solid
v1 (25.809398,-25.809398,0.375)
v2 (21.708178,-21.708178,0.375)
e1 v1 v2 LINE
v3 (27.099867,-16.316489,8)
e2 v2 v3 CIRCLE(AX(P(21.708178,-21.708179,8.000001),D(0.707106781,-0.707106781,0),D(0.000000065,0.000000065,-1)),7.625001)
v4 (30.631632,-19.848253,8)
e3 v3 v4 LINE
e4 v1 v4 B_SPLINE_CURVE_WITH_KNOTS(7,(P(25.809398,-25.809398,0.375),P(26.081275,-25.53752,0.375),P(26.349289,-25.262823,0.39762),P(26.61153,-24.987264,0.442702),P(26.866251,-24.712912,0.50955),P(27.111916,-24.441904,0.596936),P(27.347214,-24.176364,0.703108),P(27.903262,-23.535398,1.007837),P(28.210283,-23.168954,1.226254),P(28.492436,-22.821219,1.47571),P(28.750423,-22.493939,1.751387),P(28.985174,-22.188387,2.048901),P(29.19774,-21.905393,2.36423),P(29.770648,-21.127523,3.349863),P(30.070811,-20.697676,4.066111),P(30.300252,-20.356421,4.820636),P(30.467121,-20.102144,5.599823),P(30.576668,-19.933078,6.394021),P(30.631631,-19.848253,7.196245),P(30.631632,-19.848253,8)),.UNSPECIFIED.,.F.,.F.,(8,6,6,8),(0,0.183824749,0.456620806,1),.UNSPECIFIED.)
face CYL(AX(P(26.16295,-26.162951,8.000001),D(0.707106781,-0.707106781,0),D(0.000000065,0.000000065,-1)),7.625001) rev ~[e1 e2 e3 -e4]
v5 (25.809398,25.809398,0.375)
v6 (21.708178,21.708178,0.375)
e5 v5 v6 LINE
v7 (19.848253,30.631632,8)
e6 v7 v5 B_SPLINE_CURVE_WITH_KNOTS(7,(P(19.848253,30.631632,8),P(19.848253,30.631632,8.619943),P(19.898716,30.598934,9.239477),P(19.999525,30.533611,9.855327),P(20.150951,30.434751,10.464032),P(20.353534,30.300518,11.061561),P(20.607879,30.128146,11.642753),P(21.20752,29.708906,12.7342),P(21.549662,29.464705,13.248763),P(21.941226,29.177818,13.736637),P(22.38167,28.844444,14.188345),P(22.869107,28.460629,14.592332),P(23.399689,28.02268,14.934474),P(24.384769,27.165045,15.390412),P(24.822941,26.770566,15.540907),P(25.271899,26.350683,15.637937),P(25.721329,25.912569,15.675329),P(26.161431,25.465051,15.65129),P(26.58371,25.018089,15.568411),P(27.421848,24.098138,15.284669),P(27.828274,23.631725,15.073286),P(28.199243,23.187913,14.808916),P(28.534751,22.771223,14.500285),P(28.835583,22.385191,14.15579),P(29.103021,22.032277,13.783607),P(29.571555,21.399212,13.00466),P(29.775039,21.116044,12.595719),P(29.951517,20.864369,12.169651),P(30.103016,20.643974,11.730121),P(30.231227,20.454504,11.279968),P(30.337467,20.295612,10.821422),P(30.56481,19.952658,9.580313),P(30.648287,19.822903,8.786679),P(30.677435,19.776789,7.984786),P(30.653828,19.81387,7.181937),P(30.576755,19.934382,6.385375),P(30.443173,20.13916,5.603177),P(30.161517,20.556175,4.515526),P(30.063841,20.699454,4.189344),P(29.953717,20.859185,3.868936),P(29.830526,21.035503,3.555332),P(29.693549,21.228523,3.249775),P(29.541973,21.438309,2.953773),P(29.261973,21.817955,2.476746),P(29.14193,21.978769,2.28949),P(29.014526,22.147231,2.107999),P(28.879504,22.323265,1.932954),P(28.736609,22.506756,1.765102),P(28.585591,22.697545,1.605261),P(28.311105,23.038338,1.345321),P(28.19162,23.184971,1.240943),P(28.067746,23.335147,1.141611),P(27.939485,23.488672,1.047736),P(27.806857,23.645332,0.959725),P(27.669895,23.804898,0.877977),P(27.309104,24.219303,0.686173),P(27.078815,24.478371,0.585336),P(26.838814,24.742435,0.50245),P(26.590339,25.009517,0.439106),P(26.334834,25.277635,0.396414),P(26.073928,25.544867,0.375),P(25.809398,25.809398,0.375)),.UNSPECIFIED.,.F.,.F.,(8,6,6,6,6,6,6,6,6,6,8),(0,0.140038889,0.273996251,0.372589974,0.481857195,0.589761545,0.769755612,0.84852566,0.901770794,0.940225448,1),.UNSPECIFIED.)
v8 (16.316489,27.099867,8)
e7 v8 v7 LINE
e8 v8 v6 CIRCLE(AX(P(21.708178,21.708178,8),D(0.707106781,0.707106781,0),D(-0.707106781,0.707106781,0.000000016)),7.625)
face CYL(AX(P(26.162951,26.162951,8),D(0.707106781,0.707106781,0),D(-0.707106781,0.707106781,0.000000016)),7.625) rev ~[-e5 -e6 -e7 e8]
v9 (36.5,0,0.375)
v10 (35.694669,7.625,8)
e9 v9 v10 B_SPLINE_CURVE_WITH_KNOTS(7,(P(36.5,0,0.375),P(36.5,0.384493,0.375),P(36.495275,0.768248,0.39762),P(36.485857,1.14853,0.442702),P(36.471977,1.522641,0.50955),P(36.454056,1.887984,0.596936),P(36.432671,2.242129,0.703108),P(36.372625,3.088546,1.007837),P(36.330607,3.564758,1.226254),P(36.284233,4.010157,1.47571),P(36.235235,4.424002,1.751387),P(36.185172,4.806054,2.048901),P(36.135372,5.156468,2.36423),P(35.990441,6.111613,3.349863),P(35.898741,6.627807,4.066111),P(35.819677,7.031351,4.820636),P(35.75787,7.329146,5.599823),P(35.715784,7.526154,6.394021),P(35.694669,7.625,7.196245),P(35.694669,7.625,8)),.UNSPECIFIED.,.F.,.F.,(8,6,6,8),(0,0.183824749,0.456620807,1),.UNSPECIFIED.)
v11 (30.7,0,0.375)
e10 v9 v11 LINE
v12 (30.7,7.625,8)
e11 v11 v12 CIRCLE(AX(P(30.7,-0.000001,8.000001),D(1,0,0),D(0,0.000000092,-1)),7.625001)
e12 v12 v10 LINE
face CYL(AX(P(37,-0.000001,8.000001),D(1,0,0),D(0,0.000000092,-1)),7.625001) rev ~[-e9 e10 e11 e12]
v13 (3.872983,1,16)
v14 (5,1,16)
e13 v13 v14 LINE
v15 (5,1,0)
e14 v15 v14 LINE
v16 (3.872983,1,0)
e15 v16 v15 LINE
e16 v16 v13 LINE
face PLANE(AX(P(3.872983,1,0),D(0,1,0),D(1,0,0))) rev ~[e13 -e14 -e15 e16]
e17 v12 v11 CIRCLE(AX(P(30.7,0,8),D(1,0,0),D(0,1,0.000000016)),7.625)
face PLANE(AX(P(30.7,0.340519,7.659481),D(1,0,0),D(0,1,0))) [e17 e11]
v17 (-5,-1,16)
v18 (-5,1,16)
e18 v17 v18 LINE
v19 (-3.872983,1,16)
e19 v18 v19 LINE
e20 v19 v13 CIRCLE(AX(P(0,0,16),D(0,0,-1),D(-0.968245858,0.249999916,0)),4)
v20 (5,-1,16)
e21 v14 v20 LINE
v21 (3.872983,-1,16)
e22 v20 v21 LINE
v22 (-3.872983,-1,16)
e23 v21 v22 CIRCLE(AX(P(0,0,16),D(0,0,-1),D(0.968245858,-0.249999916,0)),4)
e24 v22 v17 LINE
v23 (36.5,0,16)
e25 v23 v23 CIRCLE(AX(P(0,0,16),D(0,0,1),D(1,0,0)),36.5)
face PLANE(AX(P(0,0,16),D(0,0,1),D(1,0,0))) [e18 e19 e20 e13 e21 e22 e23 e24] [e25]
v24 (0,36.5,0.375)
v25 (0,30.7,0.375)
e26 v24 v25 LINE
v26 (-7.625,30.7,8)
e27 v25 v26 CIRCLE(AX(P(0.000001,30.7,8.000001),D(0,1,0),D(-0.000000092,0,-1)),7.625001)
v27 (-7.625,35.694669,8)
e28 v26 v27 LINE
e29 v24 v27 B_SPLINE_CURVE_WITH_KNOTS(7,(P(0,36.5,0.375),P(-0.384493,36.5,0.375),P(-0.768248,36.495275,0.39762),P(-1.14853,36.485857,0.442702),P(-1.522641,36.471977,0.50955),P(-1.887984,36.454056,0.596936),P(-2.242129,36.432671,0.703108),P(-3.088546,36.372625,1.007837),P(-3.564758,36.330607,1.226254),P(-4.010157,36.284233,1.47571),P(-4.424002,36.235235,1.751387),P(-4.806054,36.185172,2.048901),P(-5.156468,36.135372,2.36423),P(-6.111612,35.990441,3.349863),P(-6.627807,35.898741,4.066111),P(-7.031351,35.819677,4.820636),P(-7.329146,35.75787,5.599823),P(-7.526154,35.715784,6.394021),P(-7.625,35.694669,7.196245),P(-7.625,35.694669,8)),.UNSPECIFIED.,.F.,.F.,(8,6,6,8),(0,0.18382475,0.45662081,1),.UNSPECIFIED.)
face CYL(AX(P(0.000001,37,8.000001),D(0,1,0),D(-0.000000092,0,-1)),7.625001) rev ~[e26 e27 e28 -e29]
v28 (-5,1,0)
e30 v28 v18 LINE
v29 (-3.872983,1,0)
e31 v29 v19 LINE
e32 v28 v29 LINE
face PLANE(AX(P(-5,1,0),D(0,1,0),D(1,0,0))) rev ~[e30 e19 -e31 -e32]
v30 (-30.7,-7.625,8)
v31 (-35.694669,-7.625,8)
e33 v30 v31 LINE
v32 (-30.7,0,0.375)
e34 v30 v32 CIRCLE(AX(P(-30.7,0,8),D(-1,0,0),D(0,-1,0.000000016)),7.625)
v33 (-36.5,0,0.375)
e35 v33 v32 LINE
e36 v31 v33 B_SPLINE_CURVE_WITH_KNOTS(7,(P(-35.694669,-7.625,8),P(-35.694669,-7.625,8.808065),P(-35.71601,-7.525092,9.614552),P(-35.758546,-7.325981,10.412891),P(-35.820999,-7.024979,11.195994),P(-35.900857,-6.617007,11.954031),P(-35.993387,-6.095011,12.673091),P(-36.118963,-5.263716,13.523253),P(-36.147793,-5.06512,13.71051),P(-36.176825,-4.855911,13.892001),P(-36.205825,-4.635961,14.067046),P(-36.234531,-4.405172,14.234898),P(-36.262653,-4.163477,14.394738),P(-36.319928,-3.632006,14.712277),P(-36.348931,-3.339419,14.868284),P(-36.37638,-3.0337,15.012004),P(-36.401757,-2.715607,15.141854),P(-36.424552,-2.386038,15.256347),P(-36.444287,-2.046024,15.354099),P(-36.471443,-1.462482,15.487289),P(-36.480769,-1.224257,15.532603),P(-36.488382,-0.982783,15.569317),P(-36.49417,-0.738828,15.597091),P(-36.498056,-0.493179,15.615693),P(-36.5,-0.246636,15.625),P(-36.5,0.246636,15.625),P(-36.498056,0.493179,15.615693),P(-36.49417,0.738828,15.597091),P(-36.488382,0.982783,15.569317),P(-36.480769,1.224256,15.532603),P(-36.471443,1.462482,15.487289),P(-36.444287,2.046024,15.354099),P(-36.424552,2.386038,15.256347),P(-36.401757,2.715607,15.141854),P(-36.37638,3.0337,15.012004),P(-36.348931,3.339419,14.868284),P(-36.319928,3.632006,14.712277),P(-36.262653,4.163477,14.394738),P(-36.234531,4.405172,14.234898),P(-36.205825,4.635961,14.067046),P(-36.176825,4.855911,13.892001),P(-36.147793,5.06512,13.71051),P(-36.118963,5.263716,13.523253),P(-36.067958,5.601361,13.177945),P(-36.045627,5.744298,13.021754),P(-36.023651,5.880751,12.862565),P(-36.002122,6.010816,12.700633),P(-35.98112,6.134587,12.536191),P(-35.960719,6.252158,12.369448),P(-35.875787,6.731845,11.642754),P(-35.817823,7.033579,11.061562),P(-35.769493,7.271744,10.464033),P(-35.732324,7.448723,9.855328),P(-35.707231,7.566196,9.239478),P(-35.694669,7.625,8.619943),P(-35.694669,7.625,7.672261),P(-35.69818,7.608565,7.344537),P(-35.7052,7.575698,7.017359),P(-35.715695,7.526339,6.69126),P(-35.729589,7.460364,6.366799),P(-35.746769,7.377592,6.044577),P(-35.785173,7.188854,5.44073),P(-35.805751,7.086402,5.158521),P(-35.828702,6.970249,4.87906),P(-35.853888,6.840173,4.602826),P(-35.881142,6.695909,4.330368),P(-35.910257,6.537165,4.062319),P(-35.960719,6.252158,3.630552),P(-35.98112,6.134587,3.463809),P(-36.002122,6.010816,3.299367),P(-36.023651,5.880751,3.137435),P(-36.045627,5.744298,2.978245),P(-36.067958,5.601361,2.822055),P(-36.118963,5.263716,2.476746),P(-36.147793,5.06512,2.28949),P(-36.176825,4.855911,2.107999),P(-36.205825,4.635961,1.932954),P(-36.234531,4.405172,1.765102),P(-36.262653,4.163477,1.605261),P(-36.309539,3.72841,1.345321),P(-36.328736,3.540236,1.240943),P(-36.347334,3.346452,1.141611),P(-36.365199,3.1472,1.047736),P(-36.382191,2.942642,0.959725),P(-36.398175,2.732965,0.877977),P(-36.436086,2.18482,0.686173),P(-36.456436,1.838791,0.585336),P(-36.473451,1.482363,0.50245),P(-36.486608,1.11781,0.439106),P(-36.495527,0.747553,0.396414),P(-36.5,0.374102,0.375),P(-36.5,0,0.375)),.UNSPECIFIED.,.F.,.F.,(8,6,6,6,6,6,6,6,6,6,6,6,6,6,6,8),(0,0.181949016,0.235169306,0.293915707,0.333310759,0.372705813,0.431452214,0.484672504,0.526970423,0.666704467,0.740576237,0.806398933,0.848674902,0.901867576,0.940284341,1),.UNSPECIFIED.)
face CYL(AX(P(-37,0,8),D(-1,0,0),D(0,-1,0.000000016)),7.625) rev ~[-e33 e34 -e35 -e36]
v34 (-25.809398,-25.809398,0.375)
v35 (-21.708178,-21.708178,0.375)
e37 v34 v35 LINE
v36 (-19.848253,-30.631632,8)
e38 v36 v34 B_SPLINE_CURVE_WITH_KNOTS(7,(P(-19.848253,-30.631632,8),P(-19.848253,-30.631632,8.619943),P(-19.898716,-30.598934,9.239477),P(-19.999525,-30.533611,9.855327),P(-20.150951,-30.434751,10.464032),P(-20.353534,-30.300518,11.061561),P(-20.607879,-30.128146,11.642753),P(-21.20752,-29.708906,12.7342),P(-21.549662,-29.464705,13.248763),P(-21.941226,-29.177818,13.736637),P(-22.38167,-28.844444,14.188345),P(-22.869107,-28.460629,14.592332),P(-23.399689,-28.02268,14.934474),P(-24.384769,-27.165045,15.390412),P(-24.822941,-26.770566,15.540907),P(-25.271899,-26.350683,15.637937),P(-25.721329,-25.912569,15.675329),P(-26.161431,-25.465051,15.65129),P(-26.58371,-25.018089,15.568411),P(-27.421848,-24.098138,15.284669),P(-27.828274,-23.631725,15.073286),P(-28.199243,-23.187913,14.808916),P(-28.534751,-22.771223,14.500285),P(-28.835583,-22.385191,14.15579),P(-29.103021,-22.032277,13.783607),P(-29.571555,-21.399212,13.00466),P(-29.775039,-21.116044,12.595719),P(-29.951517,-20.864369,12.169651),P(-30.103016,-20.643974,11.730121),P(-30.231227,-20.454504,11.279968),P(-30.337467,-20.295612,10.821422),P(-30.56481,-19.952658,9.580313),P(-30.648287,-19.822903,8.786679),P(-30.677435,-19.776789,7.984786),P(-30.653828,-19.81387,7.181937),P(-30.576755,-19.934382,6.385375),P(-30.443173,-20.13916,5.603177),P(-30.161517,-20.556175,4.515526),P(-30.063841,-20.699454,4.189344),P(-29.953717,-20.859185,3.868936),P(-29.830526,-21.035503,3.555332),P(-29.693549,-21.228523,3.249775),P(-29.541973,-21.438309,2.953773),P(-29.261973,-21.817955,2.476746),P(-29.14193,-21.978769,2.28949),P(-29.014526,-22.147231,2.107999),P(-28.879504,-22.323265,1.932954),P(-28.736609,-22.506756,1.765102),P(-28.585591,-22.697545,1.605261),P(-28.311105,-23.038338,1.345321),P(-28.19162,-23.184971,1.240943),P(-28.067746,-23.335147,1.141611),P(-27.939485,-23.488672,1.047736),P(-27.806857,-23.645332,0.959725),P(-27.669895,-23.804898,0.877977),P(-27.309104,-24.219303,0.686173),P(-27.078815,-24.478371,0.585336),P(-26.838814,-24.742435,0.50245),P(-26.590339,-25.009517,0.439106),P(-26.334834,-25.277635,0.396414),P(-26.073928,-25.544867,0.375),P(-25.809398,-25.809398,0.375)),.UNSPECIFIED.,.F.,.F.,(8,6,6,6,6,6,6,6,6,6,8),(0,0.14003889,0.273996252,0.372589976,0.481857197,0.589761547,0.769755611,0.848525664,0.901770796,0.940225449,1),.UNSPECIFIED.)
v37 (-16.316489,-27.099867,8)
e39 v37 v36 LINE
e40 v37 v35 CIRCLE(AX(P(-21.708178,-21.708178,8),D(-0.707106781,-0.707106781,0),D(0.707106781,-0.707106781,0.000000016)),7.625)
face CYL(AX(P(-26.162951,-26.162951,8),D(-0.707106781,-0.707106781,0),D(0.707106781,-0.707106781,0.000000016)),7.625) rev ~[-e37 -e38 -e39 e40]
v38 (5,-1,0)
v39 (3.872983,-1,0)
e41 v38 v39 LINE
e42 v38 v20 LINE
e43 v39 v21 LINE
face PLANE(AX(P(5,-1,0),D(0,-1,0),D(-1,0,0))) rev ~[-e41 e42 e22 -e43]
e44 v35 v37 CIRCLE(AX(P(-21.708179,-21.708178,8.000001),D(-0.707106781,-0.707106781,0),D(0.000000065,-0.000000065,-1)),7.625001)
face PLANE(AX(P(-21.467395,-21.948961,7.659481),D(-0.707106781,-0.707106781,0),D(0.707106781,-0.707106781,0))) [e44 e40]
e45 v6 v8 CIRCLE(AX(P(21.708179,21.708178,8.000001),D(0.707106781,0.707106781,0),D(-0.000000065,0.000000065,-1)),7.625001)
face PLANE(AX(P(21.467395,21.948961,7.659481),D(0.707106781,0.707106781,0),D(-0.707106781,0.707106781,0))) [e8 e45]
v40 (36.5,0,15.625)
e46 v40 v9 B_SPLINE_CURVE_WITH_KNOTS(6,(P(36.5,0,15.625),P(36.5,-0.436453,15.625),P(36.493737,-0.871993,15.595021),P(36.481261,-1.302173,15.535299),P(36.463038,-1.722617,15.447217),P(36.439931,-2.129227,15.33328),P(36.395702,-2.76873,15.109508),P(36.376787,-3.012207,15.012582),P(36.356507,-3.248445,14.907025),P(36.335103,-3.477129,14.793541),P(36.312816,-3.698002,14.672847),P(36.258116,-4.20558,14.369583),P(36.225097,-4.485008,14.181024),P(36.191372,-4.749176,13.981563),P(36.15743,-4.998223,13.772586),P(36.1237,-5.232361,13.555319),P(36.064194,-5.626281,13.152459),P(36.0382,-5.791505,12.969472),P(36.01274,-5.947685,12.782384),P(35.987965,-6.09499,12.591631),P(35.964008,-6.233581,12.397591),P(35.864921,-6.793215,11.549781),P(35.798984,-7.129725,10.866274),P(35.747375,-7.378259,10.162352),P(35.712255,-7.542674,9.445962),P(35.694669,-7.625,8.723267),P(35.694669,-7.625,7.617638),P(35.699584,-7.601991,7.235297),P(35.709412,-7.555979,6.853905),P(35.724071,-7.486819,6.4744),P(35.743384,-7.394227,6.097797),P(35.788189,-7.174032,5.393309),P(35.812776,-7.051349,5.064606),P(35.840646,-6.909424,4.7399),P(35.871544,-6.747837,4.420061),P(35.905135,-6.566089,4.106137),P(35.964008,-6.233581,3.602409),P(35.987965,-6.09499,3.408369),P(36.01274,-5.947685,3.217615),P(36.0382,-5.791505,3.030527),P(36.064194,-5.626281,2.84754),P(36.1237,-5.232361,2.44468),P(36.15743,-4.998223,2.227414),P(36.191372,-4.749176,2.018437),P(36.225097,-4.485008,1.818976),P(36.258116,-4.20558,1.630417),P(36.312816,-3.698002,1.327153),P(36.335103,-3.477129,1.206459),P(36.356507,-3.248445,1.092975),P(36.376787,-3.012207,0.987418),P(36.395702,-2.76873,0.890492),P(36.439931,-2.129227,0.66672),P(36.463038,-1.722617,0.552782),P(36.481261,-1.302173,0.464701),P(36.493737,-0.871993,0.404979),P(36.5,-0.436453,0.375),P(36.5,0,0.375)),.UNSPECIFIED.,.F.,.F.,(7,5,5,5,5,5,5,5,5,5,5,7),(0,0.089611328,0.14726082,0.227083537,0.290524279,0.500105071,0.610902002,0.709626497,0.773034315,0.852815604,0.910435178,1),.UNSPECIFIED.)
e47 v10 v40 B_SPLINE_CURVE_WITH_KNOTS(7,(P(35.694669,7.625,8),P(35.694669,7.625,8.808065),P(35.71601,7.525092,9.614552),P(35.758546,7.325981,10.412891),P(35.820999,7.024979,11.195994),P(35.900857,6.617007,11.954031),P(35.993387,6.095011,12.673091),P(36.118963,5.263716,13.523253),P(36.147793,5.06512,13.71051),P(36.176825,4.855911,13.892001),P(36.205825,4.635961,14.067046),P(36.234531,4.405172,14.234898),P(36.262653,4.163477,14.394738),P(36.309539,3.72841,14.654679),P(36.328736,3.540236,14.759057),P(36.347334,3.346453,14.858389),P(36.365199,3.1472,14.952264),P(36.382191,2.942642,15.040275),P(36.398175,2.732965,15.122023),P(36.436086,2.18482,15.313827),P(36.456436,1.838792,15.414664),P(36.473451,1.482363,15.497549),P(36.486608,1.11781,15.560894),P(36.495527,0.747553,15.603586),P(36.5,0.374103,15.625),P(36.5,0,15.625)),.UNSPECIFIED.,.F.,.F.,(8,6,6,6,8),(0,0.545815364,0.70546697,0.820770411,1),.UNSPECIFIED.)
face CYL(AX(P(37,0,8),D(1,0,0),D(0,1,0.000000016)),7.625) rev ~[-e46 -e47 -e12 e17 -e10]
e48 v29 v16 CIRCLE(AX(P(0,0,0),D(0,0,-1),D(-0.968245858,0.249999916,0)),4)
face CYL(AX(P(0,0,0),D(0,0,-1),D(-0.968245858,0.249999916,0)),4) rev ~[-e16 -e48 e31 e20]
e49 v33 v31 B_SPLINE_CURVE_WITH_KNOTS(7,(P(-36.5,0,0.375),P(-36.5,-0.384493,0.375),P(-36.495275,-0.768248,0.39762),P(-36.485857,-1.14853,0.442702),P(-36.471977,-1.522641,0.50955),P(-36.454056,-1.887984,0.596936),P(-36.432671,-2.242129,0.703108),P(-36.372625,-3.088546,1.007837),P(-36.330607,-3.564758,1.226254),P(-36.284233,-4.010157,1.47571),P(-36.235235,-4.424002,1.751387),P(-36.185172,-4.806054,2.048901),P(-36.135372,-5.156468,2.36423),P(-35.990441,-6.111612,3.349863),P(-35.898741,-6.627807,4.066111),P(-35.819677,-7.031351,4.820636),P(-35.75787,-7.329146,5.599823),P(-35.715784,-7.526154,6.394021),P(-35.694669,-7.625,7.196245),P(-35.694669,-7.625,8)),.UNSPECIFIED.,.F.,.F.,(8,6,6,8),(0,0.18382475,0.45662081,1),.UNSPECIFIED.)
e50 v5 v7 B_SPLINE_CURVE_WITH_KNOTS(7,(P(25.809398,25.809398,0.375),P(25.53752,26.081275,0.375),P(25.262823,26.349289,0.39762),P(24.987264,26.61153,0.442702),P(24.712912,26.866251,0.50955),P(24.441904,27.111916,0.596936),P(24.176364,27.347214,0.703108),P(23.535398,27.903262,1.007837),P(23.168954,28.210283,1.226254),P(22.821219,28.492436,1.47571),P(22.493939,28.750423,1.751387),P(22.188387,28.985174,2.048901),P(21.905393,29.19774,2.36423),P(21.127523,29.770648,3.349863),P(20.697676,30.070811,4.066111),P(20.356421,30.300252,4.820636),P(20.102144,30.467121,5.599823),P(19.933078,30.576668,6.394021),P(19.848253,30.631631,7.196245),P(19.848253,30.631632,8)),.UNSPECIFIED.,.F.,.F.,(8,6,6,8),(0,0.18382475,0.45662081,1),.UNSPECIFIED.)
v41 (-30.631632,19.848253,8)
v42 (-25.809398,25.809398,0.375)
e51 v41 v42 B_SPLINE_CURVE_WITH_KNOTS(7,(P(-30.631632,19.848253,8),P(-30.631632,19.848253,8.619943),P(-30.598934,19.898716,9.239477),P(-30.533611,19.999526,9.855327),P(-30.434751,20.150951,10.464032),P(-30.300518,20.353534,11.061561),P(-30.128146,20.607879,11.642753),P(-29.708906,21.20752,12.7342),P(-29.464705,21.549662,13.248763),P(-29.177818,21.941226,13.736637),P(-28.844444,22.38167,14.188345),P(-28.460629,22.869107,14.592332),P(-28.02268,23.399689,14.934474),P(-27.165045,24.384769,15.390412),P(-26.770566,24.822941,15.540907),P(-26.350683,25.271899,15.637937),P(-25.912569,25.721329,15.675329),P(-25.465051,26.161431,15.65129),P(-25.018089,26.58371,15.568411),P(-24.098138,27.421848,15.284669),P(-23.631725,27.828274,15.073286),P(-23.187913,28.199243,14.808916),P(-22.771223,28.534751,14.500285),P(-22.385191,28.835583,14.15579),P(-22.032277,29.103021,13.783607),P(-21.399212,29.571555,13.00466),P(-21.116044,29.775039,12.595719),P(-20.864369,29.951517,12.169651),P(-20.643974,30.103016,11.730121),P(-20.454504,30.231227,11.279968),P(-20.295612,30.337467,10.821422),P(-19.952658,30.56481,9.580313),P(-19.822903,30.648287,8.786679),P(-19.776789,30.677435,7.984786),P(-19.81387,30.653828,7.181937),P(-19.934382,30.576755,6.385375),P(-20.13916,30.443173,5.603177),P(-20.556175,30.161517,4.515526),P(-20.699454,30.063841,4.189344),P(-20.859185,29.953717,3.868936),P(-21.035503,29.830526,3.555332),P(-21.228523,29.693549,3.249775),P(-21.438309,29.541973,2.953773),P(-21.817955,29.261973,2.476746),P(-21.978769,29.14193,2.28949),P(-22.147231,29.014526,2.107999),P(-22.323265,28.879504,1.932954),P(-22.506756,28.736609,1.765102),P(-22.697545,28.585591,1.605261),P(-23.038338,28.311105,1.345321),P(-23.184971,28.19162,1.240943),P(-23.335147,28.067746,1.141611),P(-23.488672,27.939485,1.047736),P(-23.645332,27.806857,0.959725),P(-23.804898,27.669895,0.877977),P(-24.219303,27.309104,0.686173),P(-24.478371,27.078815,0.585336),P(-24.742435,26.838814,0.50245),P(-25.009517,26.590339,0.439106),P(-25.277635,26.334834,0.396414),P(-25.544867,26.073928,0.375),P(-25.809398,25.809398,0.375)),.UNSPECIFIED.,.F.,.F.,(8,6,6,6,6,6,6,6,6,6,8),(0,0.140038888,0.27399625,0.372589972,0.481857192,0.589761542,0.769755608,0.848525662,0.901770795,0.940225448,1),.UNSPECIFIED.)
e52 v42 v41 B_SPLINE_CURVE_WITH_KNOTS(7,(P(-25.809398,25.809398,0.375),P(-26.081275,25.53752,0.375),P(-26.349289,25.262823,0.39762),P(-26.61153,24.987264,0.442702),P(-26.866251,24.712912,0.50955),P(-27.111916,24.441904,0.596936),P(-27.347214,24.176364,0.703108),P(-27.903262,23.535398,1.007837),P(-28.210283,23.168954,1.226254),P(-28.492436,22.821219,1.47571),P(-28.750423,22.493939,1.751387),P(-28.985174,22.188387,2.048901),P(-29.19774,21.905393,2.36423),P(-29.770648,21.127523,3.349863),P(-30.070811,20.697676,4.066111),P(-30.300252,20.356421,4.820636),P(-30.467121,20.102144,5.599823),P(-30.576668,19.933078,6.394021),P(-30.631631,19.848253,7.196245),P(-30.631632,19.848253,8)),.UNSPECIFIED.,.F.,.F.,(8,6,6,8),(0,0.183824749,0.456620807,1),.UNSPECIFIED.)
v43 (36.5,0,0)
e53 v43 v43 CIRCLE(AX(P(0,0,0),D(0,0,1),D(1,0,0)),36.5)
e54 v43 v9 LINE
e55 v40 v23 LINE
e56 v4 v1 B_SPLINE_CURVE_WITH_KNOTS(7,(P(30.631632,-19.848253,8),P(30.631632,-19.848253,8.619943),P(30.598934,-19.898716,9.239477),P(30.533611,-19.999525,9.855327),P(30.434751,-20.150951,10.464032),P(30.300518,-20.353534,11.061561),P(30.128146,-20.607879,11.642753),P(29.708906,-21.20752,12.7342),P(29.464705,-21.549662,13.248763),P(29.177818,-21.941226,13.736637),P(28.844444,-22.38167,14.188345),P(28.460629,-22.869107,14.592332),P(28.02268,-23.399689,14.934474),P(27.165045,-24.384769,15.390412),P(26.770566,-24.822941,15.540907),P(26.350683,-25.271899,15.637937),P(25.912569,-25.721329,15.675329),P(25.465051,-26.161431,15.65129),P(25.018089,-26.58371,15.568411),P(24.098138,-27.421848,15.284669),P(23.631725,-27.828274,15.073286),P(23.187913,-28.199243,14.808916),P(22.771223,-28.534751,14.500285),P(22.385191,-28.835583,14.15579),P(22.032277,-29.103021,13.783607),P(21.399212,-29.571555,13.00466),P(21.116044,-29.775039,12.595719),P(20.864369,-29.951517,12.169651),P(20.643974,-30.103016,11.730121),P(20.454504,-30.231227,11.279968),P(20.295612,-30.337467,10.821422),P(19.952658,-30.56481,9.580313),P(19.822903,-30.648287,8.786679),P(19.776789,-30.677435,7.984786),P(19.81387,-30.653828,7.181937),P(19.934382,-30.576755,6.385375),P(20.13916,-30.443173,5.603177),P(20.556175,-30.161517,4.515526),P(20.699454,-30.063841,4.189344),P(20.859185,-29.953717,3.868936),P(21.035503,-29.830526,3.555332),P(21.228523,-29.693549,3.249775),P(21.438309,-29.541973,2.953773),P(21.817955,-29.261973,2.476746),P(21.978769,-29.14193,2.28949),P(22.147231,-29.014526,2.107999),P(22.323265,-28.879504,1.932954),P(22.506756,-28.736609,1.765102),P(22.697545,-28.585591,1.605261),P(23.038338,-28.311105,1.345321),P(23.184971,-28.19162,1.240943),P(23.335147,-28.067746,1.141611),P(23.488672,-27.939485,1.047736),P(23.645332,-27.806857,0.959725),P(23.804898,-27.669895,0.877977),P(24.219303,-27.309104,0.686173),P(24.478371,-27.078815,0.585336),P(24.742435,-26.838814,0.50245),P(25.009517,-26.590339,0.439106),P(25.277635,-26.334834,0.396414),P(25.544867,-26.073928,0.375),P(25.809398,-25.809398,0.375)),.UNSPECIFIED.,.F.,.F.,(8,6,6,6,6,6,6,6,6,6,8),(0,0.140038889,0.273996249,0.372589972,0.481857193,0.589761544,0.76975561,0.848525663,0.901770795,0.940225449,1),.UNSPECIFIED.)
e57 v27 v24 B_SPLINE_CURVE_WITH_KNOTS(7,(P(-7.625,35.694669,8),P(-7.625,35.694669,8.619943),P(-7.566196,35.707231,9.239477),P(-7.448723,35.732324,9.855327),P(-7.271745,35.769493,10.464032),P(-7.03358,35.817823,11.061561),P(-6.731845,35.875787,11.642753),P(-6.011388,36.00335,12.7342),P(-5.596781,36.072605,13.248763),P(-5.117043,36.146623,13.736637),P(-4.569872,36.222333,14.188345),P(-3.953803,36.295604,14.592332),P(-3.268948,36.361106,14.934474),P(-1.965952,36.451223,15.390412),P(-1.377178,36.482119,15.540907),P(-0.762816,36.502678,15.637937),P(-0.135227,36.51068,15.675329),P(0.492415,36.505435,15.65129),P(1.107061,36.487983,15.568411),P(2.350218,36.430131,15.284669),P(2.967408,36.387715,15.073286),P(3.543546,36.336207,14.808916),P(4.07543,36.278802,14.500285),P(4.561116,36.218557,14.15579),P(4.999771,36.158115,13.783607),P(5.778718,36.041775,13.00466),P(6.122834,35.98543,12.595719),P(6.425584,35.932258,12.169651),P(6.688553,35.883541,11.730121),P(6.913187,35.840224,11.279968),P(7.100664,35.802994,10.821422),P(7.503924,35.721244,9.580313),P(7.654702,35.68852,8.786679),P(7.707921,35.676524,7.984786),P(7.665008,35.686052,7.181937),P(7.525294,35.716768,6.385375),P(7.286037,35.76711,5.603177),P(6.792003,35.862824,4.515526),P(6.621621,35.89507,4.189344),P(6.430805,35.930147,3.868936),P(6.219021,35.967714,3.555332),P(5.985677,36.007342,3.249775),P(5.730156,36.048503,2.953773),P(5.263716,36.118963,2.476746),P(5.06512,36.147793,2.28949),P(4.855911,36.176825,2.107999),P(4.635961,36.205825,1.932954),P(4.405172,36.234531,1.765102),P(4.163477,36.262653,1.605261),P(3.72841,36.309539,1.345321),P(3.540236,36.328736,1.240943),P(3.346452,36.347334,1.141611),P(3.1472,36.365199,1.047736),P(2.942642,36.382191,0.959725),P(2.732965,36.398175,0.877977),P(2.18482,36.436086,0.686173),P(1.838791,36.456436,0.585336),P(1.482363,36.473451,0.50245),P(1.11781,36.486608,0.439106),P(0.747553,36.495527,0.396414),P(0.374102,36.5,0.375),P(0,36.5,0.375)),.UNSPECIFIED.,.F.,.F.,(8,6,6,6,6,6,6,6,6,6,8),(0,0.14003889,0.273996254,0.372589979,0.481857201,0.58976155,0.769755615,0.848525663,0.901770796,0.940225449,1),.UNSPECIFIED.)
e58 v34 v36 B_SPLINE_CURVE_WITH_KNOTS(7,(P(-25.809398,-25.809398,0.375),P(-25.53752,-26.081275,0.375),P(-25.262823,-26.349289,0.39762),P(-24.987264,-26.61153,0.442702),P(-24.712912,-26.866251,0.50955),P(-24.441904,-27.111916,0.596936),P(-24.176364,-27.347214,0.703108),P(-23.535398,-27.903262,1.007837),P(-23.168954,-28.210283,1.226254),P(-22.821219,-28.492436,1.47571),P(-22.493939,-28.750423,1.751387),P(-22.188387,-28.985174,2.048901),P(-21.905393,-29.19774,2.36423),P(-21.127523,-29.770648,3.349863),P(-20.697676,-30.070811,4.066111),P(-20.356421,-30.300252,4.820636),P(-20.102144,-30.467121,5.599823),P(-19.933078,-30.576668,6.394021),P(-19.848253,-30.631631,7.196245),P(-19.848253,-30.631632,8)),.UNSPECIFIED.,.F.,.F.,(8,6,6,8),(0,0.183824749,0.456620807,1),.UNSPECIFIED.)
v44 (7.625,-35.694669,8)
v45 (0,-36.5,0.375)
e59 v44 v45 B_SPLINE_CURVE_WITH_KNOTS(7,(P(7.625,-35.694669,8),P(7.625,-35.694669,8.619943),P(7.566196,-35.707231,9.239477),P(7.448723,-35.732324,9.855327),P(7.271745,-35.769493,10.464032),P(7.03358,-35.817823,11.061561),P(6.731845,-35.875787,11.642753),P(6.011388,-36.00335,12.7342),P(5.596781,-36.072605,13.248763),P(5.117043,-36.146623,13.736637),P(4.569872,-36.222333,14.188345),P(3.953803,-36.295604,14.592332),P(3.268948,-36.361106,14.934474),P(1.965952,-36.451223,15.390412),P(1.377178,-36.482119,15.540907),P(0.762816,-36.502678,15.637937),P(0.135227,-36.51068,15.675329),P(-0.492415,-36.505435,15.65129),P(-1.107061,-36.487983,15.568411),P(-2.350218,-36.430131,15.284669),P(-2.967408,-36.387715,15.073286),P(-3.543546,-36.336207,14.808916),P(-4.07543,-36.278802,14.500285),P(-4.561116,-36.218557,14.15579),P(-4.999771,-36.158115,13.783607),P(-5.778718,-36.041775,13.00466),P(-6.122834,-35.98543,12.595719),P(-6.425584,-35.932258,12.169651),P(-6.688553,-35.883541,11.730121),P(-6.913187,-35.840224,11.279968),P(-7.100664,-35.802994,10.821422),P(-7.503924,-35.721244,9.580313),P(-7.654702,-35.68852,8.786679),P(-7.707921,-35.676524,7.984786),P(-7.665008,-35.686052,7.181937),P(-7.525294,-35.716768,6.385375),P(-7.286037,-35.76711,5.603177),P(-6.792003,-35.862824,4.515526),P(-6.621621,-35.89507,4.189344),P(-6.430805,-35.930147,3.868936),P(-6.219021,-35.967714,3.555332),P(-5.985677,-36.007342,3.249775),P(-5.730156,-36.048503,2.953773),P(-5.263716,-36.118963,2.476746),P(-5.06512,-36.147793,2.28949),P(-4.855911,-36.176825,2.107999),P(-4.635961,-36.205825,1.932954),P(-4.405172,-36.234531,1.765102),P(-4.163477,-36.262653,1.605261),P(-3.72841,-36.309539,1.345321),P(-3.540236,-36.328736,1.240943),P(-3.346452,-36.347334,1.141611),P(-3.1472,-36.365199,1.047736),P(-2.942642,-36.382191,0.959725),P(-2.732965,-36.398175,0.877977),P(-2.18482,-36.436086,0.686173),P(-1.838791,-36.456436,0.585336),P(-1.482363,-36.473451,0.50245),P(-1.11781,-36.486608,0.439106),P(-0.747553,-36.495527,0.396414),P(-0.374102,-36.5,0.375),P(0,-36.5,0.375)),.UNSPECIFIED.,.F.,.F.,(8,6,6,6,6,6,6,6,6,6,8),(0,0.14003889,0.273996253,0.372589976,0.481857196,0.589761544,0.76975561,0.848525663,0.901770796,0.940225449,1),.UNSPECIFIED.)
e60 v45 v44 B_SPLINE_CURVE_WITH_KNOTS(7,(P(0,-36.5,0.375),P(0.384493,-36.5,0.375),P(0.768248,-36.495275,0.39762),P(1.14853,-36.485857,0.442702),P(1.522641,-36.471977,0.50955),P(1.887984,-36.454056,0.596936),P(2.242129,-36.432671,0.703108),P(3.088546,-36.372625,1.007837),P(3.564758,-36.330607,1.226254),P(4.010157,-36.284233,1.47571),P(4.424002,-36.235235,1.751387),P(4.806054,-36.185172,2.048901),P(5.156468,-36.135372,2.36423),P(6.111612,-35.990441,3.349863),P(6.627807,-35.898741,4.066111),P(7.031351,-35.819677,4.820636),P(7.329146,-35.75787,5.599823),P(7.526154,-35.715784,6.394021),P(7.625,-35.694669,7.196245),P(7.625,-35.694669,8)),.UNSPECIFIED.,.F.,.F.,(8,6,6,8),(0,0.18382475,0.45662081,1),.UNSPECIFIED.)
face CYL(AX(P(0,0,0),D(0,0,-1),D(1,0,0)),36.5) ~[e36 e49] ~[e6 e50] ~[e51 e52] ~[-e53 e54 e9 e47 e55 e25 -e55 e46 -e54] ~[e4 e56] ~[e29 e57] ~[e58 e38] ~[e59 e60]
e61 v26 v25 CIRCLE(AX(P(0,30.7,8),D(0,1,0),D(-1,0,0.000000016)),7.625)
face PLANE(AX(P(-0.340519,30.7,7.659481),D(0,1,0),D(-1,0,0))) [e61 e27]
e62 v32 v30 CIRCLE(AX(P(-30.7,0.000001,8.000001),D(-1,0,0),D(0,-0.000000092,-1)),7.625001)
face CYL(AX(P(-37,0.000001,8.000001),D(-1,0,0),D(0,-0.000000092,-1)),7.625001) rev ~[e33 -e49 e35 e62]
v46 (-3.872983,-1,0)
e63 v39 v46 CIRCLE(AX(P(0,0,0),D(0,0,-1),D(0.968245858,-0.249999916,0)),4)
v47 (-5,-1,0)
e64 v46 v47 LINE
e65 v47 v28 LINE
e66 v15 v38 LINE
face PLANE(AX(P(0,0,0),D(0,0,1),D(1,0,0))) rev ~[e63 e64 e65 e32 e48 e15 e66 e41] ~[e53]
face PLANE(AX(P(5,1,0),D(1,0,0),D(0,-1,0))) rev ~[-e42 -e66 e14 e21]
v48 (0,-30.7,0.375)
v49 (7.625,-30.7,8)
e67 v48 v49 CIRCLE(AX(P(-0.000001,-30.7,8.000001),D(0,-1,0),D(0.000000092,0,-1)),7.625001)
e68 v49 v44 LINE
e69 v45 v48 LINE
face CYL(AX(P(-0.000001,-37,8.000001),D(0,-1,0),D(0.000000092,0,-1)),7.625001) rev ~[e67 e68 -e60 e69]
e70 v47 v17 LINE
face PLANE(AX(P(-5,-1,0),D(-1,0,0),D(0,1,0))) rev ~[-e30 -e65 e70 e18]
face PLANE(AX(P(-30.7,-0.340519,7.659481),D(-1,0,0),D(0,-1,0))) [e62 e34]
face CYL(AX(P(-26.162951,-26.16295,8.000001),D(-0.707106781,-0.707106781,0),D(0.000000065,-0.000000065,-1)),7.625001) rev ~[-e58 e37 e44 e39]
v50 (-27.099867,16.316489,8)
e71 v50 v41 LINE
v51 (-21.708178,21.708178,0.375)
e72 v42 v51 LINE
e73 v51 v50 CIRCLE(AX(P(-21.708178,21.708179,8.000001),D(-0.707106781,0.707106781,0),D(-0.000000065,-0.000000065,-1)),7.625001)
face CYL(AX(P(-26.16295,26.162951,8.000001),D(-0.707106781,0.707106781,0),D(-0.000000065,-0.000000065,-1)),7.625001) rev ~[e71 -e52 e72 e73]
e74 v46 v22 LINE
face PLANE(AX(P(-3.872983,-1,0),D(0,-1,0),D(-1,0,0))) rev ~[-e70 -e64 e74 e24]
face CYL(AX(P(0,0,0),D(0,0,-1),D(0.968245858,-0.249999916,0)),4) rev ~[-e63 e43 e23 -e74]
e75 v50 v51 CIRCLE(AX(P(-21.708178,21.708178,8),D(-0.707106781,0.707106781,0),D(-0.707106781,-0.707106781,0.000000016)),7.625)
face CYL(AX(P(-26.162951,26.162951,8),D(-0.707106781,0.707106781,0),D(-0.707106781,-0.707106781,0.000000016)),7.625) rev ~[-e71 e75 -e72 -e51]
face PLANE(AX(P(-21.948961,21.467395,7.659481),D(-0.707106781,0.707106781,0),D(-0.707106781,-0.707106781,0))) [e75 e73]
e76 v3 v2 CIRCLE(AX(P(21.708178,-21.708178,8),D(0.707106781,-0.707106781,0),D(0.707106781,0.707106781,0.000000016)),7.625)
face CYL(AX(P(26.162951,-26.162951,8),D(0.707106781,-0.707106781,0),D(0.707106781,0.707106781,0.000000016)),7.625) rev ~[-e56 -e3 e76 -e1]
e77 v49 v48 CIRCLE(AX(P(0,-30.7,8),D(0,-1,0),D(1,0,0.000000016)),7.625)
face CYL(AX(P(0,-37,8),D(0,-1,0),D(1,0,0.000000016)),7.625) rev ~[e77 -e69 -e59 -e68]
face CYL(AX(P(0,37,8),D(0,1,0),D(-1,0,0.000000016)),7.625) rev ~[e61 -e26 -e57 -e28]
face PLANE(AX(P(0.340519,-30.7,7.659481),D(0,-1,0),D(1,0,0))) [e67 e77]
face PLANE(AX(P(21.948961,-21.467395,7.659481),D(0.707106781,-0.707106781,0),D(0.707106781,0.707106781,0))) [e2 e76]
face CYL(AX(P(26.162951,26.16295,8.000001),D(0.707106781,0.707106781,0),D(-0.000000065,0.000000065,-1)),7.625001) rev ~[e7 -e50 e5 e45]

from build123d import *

# Parameters (mm, degrees)
F0_R          = 36.5
F1_DEPTH      = 16
F5_DEPTH      = 6.3
F5_DEPTH_BACK = 2
F6_COUNT      = 8


with BuildPart() as f1:
    # F0 (on Top) → F1 (new body)
    with BuildSketch(Plane.XY):
        Circle(F0_R)
        with BuildLine():
            ThreePointArc((-3.872983, 1), (0, 4), (3.872983, 1))
            Line((3.872983, 1), (5, 1))
            Line((5, 1), (5, -1))
            Line((5, -1), (3.872983, -1))
            ThreePointArc((3.872983, -1), (0, -4), (-3.872983, -1))
            Line((-3.872983, -1), (-5, -1))
            Line((-5, -1), (-5, 1))
            Line((-5, 1), (-3.872983, 1))
        make_face(mode=Mode.SUBTRACT)
    extrude(amount=F1_DEPTH)


with BuildPart() as f5:
    # F3 (on offset) → F5 (new body, two sides)
    with BuildSketch(Plane.XZ.offset(37)) as f5_sk:
        with BuildLine():
            ThreePointArc((0, 0.375), (5.391689, 2.608311), (7.625, 8))
            ThreePointArc((7.625, 8), (-5.391689, 13.391689), (0, 0.375))
        make_face()
    extrude(amount=-F5_DEPTH)
    extrude(f5_sk.sketch, amount=-F5_DEPTH_BACK)


with BuildPart() as f6_1:
    # F6: instance of F5
    add(f5.part.rotate(Axis((0, 0, 8), (0, 0, 1)), 1 * 360 / F6_COUNT))


with BuildPart() as f6_2:
    # F6: instance of F5
    add(f5.part.rotate(Axis((0, 0, 8), (0, 0, 1)), 2 * 360 / F6_COUNT))


with BuildPart() as f6_3:
    # F6: instance of F5
    add(f5.part.rotate(Axis((0, 0, 8), (0, 0, 1)), 3 * 360 / F6_COUNT))


with BuildPart() as f6_4:
    # F6: instance of F5
    add(f5.part.rotate(Axis((0, 0, 8), (0, 0, 1)), 4 * 360 / F6_COUNT))


with BuildPart() as f6_5:
    # F6: instance of F5
    add(f5.part.rotate(Axis((0, 0, 8), (0, 0, 1)), 5 * 360 / F6_COUNT))


with BuildPart() as f6_6:
    # F6: instance of F5
    add(f5.part.rotate(Axis((0, 0, 8), (0, 0, 1)), 6 * 360 / F6_COUNT))


with BuildPart() as f6_7:
    # F6: instance of F5
    add(f5.part.rotate(Axis((0, 0, 8), (0, 0, 1)), 7 * 360 / F6_COUNT))


with BuildPart() as f1_1:
    add(f1.part)

    # F7: cut F5, F6_1, F6_2, F6_3, F6_4, F6_5, F6_6, F6_7
    add(f5.part, mode=Mode.SUBTRACT)
    add(f6_1.part, mode=Mode.SUBTRACT)
    add(f6_2.part, mode=Mode.SUBTRACT)
    add(f6_3.part, mode=Mode.SUBTRACT)
    add(f6_4.part, mode=Mode.SUBTRACT)
    add(f6_5.part, mode=Mode.SUBTRACT)
    add(f6_6.part, mode=Mode.SUBTRACT)
    add(f6_7.part, mode=Mode.SUBTRACT)


solid = f1_1.part
